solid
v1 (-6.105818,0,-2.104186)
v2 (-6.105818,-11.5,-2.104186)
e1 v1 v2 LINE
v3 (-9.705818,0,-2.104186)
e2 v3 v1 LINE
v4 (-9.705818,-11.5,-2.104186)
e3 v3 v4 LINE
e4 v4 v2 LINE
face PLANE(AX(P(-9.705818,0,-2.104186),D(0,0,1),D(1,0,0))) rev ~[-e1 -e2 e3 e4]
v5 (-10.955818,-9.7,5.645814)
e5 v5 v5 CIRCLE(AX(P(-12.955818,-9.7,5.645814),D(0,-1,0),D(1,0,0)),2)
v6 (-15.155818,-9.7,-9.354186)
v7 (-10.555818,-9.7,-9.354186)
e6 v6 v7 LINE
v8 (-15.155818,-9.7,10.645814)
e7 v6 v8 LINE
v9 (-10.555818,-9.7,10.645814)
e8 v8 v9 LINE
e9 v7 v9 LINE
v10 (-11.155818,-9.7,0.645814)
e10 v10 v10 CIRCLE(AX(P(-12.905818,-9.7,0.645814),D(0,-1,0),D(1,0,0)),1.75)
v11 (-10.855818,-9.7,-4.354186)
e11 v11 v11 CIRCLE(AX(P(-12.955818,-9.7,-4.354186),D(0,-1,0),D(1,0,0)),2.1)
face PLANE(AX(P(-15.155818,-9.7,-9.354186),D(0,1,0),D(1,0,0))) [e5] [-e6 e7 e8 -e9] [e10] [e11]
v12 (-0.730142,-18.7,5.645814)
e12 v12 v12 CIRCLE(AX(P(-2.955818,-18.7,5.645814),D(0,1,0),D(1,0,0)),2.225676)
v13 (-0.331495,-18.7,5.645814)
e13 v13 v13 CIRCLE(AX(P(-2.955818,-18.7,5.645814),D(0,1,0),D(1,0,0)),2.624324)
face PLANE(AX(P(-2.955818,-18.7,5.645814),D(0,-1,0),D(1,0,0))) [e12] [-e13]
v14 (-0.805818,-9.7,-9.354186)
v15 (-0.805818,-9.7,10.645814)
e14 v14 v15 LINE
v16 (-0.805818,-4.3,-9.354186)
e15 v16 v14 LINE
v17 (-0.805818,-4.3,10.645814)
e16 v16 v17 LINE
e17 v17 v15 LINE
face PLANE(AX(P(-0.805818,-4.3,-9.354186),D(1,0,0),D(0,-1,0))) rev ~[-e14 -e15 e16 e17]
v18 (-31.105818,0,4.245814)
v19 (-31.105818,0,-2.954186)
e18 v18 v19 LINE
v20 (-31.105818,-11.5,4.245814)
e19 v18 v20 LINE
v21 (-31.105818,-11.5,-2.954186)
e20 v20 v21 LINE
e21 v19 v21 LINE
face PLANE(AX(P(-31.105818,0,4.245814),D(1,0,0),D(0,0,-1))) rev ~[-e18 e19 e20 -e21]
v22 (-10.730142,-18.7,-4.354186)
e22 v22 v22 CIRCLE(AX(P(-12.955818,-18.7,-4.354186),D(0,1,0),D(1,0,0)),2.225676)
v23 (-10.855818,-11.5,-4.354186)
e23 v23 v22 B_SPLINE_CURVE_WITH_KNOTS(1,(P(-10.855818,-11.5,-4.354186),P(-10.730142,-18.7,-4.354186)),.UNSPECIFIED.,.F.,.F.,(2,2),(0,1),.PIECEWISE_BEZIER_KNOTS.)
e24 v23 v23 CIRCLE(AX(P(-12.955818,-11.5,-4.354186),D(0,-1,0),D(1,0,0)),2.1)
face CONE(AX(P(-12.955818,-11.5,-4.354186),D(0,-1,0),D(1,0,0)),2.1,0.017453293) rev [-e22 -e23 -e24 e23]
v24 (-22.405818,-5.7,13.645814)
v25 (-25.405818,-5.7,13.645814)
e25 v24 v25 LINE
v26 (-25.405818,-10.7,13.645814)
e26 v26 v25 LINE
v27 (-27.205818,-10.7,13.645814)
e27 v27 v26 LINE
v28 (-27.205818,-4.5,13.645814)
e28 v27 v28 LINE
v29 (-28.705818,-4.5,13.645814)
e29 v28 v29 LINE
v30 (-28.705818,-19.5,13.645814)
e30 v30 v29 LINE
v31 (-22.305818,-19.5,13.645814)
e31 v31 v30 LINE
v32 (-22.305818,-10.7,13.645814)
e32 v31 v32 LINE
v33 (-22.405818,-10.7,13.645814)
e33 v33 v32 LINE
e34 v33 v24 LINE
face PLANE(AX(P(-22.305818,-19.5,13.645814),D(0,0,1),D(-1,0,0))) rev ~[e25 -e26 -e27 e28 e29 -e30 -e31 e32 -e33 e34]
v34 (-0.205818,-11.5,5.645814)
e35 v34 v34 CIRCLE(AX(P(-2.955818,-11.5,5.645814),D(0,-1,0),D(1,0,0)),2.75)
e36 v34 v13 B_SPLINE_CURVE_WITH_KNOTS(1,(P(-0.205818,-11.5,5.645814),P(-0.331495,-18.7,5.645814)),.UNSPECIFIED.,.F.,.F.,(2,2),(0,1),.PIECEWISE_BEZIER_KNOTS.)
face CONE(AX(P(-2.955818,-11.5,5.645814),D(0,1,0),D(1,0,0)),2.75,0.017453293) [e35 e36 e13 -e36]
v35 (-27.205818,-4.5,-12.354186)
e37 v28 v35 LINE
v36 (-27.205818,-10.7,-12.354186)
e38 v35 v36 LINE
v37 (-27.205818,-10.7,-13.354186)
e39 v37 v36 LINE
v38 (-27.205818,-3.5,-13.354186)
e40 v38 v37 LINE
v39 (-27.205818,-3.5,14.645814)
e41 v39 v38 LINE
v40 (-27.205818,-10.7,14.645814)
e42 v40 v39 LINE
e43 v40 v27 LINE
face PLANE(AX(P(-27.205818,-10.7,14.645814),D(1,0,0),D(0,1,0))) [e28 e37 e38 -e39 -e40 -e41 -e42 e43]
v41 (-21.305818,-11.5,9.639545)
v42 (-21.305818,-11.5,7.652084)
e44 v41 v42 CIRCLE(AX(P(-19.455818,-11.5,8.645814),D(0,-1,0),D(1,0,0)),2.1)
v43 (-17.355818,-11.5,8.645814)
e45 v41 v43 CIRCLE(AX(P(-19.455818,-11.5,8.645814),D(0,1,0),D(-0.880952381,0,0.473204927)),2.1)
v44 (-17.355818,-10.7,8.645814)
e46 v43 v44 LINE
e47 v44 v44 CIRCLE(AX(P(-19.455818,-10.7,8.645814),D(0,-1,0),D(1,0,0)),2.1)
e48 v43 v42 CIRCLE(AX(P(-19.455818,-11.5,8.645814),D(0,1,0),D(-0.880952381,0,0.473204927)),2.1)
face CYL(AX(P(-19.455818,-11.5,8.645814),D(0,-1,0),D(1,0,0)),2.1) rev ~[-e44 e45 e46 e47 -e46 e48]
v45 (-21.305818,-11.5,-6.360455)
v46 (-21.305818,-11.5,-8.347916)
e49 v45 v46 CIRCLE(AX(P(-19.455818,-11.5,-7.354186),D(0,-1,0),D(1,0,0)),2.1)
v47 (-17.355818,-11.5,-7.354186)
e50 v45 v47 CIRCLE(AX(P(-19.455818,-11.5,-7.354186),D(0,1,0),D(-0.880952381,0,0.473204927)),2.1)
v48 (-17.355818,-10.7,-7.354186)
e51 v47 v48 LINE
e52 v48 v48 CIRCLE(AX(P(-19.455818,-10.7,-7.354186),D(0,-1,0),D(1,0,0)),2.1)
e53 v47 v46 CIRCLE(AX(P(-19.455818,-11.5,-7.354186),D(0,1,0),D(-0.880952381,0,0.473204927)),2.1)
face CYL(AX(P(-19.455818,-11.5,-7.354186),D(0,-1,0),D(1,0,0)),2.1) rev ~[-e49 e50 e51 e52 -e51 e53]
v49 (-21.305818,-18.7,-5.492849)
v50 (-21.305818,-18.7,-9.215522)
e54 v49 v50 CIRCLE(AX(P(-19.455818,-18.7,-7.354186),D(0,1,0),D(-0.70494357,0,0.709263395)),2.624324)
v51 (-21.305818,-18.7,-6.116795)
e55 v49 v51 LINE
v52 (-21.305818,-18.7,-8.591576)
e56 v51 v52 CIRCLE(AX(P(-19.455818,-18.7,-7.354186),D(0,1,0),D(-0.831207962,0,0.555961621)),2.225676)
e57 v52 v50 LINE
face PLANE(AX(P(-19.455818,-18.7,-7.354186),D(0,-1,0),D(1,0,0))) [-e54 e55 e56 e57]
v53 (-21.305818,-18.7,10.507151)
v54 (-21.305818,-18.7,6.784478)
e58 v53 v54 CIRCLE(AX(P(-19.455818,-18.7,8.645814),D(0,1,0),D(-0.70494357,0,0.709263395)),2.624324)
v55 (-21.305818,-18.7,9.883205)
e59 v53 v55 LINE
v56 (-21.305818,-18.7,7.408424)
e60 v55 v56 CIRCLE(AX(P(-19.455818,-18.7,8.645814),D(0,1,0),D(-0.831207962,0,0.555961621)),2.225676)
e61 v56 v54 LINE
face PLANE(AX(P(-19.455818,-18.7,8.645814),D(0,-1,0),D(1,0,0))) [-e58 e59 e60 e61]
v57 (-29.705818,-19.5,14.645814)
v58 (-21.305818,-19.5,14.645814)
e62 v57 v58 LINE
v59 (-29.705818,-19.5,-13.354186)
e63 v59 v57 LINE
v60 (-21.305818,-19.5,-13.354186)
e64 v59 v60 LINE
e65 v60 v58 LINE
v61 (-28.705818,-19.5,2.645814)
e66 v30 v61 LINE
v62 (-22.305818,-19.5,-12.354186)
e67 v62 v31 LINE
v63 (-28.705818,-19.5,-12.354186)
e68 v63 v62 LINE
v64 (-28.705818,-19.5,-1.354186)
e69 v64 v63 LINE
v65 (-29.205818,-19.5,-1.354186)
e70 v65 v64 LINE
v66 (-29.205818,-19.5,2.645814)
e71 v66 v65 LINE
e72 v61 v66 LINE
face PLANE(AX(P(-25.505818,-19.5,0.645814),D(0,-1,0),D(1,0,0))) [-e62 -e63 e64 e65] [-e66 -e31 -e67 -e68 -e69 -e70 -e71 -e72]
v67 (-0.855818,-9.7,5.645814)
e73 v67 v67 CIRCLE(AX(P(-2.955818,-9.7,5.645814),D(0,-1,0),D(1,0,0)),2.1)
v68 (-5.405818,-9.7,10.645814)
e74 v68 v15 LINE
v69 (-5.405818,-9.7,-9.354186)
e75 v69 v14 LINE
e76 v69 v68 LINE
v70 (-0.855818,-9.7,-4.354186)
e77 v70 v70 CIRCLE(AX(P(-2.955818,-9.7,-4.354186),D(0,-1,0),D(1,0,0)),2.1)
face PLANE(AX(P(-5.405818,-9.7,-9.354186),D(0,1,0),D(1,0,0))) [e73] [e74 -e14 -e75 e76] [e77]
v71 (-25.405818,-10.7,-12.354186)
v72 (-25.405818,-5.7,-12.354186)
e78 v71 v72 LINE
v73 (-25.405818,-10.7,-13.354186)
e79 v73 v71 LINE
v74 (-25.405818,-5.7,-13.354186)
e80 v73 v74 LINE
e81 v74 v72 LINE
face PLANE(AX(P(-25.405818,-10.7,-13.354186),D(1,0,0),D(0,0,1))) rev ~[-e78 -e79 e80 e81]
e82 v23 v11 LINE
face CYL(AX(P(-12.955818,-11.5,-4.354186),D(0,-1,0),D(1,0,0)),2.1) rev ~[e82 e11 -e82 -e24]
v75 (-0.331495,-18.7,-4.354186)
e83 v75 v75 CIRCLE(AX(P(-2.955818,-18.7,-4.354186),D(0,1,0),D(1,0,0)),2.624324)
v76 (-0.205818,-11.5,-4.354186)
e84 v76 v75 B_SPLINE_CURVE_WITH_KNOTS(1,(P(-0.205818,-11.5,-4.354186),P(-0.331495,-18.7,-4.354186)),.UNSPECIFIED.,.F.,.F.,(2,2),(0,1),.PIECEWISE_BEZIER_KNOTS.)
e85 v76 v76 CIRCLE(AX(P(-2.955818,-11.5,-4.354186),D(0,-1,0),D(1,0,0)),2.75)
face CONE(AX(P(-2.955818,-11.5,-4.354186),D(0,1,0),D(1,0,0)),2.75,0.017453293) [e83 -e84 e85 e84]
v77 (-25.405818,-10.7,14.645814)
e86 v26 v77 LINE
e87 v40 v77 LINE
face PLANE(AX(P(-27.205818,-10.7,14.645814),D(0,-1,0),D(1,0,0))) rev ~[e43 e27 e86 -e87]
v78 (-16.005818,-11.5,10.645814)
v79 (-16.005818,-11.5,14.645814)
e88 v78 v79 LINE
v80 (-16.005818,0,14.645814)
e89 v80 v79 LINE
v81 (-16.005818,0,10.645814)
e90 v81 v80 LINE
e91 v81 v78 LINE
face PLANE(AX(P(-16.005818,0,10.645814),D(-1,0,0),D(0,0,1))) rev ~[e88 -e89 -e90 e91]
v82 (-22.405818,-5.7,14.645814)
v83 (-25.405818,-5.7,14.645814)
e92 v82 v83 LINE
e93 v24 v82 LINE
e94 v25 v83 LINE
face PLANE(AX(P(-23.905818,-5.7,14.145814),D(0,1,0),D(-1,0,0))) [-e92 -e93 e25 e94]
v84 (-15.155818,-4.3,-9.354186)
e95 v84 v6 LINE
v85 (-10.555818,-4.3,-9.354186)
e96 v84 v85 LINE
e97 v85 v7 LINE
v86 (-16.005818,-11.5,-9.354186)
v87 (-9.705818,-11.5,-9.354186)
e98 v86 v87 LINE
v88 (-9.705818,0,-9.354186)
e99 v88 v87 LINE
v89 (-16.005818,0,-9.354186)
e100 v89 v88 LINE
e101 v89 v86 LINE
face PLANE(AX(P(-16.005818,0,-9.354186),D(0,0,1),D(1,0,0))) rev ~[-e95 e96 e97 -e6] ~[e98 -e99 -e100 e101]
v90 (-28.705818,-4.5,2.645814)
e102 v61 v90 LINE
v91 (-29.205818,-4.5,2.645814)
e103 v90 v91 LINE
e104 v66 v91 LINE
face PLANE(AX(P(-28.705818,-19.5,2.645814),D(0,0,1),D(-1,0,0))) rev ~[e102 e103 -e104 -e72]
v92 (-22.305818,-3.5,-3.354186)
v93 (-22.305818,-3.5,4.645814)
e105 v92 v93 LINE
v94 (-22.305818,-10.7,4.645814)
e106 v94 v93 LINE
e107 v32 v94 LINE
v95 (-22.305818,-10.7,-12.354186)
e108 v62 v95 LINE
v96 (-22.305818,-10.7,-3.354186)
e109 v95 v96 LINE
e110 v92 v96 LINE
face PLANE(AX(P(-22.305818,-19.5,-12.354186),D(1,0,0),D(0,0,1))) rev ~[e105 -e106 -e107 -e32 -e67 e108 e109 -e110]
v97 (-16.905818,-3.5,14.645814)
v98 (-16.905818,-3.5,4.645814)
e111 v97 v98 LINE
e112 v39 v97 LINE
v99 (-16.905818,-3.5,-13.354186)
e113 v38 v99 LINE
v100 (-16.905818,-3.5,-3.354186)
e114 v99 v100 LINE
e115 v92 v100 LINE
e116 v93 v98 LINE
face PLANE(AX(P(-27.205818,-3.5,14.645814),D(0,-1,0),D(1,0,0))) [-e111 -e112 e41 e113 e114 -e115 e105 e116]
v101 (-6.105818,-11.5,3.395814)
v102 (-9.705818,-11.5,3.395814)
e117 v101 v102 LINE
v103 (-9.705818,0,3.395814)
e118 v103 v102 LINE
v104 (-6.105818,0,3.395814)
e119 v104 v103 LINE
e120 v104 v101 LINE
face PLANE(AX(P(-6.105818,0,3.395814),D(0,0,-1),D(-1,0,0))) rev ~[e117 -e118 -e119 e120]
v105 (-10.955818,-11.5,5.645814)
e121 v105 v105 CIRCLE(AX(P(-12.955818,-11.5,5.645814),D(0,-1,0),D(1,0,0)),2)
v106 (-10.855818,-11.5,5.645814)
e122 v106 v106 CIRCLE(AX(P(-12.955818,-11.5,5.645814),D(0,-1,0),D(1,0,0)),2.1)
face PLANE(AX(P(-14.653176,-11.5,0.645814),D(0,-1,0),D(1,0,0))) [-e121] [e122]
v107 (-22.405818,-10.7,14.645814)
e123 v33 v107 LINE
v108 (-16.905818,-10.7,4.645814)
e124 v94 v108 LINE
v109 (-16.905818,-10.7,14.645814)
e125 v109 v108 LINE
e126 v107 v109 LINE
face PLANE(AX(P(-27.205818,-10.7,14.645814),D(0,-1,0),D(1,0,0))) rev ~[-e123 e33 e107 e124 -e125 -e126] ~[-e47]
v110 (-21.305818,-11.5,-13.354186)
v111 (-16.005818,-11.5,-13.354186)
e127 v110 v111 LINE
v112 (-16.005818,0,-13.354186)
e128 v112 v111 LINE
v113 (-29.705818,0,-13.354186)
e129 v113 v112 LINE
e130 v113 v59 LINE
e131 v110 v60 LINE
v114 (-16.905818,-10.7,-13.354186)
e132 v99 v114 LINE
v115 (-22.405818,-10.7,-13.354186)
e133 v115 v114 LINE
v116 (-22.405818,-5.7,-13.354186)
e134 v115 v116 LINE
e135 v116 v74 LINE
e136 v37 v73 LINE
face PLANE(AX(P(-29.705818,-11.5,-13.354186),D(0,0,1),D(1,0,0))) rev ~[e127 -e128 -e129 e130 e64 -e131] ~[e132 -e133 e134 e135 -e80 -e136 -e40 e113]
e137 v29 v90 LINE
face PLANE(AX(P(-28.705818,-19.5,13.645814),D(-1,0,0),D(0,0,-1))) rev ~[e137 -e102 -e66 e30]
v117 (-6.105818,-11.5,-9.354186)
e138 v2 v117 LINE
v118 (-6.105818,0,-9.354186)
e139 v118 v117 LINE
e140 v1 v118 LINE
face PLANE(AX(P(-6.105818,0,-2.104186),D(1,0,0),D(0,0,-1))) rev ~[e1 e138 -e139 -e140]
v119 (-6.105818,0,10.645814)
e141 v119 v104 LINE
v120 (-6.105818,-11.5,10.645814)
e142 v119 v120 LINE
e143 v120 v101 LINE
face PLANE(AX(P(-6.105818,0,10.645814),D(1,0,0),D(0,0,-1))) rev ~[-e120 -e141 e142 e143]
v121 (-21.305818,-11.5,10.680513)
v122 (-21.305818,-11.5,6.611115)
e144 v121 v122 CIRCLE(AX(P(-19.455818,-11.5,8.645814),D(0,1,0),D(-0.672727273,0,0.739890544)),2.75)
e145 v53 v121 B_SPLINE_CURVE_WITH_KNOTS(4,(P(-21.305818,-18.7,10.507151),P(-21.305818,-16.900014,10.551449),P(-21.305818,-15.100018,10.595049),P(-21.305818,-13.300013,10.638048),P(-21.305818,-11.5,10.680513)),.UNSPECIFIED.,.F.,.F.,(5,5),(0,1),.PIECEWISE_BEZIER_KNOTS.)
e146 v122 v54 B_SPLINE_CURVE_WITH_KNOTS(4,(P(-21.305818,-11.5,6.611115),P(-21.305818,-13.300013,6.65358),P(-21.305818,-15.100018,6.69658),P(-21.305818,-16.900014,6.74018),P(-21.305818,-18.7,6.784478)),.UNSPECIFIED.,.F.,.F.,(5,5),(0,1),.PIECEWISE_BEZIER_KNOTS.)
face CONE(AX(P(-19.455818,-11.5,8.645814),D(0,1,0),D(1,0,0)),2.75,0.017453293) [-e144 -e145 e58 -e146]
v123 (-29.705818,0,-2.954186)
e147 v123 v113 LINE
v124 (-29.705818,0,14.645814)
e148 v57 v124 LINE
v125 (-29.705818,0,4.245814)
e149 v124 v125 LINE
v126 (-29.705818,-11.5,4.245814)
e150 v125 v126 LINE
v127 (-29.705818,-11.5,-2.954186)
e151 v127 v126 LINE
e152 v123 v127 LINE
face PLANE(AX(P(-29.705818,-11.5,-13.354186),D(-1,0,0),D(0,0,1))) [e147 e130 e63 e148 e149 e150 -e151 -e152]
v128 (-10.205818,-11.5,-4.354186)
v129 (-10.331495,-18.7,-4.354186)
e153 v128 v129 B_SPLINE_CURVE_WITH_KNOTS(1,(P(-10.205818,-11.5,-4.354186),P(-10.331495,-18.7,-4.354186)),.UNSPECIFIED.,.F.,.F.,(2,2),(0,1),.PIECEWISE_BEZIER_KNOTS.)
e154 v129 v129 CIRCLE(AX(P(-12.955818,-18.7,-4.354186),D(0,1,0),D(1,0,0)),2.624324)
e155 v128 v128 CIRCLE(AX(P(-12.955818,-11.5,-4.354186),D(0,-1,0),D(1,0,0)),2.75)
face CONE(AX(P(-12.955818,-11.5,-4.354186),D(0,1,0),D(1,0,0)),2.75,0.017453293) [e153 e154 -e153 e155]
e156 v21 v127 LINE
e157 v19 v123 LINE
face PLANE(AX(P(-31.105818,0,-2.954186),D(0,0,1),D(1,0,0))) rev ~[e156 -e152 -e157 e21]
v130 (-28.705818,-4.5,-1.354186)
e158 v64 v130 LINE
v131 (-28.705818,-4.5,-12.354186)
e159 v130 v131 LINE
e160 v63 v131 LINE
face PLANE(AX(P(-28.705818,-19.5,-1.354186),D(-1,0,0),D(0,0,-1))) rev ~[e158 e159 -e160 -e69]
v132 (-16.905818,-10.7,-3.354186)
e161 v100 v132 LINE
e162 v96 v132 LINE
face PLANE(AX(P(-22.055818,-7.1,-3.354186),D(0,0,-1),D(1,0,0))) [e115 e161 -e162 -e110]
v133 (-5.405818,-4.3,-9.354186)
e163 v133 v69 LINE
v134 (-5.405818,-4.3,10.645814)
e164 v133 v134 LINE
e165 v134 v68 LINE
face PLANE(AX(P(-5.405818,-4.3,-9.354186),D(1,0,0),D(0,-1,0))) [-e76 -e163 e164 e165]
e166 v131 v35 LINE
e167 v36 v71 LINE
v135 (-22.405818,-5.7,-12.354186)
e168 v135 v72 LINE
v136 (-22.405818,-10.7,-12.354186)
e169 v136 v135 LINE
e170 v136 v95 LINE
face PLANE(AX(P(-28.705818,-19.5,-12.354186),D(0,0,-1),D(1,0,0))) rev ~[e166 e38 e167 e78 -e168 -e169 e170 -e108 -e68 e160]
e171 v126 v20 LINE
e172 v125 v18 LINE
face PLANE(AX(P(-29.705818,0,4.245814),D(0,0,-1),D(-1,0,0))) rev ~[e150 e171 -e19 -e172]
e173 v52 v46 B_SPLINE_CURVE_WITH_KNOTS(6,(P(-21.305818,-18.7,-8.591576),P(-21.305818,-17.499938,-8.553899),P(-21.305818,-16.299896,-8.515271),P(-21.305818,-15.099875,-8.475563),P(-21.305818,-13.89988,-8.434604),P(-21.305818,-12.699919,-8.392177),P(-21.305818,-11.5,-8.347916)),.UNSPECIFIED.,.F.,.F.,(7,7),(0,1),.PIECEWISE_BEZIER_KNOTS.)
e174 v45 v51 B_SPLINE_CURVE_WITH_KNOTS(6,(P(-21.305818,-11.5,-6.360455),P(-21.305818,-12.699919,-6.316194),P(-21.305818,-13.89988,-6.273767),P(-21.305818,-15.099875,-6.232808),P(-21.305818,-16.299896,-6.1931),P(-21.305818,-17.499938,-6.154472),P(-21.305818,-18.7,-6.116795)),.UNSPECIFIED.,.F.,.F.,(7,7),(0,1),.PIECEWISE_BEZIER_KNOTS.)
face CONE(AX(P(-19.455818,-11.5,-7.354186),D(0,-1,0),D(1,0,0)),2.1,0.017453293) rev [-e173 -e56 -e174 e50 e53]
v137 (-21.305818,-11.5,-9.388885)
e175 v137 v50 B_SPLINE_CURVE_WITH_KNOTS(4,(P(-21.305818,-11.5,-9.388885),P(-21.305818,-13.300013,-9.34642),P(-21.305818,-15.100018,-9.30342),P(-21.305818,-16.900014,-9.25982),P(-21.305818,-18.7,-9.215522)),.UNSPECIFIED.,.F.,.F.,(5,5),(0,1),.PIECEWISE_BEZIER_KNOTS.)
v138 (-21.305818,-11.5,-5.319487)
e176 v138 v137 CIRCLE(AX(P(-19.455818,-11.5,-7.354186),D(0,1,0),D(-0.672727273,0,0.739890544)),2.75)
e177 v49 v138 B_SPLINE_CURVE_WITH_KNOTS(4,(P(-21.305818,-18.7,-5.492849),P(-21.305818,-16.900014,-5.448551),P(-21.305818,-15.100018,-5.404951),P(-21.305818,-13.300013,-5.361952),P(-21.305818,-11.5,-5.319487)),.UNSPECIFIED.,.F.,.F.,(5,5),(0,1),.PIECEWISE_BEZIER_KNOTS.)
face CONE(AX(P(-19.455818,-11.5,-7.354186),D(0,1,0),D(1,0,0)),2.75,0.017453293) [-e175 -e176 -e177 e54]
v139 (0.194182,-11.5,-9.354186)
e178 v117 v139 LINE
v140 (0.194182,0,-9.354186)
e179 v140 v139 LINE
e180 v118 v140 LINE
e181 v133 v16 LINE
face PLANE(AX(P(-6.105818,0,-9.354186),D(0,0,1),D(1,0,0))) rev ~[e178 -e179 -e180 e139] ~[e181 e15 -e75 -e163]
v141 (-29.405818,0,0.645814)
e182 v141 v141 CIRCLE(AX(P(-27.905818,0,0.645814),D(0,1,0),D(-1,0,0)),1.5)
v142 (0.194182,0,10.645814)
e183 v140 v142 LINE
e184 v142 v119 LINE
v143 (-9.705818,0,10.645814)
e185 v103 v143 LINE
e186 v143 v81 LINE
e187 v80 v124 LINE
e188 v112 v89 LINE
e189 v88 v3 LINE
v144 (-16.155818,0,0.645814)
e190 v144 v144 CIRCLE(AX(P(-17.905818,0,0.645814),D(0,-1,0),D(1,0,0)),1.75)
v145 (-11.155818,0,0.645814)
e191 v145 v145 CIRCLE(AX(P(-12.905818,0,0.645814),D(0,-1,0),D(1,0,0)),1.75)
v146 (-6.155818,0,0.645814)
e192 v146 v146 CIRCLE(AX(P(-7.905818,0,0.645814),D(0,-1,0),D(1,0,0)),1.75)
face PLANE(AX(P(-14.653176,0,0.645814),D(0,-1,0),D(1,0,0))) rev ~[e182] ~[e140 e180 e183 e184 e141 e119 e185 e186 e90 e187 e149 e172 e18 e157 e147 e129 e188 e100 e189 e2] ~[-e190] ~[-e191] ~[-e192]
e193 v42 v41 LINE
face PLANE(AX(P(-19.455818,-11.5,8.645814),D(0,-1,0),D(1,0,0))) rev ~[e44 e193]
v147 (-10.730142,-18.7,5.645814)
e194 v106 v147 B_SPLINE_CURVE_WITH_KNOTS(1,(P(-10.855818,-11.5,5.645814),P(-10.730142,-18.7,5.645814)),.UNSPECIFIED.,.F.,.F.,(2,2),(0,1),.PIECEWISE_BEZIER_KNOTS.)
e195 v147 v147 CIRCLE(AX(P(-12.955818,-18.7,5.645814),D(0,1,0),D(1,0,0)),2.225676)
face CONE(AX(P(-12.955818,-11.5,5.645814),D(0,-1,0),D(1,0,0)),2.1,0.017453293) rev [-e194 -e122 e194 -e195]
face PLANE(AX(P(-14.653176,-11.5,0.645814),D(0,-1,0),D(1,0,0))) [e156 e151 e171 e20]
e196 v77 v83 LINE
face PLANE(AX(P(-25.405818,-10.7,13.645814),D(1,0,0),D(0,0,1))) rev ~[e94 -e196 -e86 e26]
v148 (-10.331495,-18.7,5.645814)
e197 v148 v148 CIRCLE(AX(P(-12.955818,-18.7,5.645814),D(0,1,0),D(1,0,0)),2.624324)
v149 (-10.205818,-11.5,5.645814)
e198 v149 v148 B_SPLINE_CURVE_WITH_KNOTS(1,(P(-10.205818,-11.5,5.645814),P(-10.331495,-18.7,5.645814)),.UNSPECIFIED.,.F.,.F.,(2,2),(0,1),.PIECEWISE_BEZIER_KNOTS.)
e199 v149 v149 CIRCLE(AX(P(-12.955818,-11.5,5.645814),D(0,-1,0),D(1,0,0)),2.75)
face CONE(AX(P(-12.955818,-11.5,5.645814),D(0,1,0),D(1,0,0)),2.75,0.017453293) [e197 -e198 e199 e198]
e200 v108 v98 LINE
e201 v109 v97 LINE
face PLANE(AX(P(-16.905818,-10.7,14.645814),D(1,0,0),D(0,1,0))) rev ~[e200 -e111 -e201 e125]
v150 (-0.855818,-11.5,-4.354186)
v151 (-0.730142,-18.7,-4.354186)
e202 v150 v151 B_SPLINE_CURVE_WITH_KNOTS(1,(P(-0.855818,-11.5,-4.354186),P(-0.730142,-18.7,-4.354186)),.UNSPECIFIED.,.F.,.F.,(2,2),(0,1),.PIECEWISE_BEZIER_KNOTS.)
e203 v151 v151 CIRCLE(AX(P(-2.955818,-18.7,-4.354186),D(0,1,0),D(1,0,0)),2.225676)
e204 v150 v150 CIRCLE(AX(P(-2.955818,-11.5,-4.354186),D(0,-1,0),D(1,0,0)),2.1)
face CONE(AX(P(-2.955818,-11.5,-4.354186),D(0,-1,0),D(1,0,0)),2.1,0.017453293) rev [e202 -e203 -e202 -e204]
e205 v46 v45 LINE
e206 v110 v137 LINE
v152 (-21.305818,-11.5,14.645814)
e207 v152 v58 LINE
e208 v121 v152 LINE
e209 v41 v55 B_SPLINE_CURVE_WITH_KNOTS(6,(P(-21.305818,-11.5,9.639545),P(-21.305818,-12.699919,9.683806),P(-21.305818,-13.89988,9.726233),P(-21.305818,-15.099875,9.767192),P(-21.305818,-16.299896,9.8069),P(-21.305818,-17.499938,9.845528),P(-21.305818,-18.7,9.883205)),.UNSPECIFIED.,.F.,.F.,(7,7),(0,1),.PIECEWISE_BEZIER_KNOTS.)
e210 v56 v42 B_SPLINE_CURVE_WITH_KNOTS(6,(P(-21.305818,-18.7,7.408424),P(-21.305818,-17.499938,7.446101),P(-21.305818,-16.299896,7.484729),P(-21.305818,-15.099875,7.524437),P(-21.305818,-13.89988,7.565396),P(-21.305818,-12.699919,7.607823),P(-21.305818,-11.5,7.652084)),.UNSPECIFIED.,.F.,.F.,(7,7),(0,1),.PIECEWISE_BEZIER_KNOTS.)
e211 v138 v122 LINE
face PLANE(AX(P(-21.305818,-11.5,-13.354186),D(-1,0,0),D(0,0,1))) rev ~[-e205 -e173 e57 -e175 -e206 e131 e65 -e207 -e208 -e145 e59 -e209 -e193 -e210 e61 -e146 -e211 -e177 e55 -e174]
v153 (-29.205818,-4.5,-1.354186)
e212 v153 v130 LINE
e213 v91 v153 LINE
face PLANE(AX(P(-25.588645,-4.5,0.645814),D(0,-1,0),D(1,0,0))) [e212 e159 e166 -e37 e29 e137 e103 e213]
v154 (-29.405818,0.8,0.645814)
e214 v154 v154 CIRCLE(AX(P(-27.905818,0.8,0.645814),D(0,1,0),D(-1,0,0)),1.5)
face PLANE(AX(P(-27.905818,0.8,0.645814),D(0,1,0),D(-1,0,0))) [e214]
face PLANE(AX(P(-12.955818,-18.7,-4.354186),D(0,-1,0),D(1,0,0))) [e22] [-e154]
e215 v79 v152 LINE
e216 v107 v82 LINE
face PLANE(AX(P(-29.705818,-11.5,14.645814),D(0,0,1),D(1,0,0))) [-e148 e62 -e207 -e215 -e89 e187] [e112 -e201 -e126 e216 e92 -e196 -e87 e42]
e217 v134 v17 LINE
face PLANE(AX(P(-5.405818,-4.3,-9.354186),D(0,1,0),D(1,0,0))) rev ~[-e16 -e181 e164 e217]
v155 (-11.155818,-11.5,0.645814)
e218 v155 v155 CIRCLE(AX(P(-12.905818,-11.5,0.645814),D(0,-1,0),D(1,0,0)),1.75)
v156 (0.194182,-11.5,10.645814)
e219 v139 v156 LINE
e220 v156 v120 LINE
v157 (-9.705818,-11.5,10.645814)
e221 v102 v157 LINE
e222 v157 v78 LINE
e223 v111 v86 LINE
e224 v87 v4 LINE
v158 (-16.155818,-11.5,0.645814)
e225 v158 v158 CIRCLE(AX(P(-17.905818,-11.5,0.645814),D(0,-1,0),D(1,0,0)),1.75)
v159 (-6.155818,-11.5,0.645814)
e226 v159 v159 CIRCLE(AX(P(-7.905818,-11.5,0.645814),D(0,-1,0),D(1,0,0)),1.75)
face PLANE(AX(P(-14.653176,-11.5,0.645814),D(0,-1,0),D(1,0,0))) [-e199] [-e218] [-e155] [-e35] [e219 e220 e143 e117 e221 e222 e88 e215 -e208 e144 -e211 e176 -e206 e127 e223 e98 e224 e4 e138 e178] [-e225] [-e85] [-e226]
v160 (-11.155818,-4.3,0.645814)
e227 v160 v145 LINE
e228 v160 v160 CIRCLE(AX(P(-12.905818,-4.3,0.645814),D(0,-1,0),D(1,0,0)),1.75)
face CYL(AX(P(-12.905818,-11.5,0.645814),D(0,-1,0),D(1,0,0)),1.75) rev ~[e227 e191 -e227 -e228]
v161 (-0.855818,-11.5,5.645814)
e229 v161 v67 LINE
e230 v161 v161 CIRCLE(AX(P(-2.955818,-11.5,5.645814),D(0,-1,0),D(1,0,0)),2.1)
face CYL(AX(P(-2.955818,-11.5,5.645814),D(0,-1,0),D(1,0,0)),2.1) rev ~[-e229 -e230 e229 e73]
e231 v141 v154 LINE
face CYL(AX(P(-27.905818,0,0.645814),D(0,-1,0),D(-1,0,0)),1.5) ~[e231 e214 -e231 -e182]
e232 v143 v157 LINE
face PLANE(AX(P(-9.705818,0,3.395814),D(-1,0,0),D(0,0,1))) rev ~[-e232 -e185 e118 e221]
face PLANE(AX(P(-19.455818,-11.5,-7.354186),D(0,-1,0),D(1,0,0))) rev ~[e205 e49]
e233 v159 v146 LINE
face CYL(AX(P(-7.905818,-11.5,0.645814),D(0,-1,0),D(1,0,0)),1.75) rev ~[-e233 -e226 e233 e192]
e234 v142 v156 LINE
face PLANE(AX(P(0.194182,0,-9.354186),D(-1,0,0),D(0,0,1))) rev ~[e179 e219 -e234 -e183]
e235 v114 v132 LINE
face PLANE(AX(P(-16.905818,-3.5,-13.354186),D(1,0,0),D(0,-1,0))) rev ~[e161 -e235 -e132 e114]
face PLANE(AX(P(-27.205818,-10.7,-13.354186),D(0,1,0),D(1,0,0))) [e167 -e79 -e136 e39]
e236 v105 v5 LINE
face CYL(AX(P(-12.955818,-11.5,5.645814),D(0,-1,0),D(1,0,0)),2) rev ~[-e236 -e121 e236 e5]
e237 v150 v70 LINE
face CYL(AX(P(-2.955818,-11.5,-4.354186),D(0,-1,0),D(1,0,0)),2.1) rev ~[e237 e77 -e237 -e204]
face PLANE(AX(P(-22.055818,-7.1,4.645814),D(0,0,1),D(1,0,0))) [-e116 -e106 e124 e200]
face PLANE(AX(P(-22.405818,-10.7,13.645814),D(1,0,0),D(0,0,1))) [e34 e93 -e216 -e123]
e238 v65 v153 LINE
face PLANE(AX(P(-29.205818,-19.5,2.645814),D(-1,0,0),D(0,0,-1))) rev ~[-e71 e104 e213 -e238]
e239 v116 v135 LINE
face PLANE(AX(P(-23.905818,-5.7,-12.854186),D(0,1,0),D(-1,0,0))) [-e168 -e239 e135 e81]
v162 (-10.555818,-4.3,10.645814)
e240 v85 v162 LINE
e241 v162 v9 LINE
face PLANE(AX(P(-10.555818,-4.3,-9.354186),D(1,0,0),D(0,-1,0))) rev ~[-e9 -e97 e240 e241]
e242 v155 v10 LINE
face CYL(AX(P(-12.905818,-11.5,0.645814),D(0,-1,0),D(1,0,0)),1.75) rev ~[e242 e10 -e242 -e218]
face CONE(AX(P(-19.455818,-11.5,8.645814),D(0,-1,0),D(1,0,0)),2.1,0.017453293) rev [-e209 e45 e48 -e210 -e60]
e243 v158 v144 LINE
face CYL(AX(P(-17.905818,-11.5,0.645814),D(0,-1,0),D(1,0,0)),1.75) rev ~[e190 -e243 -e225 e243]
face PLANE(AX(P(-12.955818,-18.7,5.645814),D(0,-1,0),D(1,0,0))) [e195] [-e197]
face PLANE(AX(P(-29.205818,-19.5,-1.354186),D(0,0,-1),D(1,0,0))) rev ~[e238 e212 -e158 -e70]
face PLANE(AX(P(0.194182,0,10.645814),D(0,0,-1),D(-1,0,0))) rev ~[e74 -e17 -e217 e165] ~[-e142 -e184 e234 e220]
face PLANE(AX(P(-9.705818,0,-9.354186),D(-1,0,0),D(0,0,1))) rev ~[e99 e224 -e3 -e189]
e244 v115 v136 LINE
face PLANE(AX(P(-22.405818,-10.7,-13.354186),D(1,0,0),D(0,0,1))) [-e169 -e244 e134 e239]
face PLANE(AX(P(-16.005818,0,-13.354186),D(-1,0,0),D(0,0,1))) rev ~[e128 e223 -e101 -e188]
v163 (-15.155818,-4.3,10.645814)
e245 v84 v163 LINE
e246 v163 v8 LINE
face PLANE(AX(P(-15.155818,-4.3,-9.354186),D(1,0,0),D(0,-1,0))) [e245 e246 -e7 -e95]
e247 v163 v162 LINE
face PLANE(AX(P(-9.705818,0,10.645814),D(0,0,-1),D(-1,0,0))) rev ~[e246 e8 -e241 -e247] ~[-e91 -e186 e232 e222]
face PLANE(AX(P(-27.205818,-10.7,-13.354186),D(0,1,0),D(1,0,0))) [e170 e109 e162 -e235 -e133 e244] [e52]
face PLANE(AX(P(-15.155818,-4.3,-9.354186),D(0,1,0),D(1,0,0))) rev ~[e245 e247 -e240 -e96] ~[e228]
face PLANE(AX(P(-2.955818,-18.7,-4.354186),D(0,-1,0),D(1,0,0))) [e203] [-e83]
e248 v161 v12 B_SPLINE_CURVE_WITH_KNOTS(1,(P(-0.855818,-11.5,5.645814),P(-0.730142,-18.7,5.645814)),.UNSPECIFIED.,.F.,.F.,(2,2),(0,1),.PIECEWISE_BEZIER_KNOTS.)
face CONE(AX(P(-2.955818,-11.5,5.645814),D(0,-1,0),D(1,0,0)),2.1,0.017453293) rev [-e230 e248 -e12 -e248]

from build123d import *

# Parameters (mm, degrees)
F1_DEPTH  = 11.5
F3_R      = 2.75
F3_R_2    = 2.1
F4_DEPTH  = 7.2
F4_TAPER  = 1
F5_W      = 8.4
F5_H      = 28
F6_DEPTH  = 8
F8_DEPTH  = 15
F10_W     = 4.6
F10_H     = 5.4
F11_DEPTH = 20
F12_W     = 10.3
F12_H     = 7.2
F13_DEPTH = 10
F14_R     = 2
F15_DEPTH = 2
F16_R     = 2.1
F17_DEPTH = 2
F18_R     = 2.1
F19_DEPTH = 2
F20_R     = 2.1
F21_DEPTH = 2
F22_R     = 2.1
F23_DEPTH = 2
F24_R     = 2.1
F25_DEPTH = 2
F26_W     = 10.3
F26_H     = 7.2
F27_DEPTH = 10
F9_R      = 1.75
F28_DEPTH = 12
F29_R     = 1.5
F30_DEPTH = 0.8
F31_W     = 4.9
F31_H     = 8
F32_DEPTH = 1
F33_W     = 3
F33_H     = 1
F34_DEPTH = 5
F35_W     = 3
F35_H     = 1
F36_DEPTH = 5


with BuildPart() as f1:
    # F0 (on Front) → F1 (new body)
    with BuildSketch(Plane.XZ):
        Polygon((0.1941817731, -9.3541857075), (0.1941817731, 10.6458142925), (-6.1058182269, 10.6458142925), (-6.1058182269, 3.3958142925), (-9.7058182269, 3.3958142925), (-9.7058182269, 10.6458142925), (-16.0058182269, 10.6458142925), (-16.0058182269, 14.6458142925), (-29.7058182269, 14.6458142925), (-29.7058182269, 4.2458142925), (-31.1058182269, 4.2458142925), (-31.1058182269, -2.9541857075), (-29.7058182269, -2.9541857075), (-29.7058182269, -13.3541857075), (-16.0058182269, -13.3541857075), (-16.0058182269, -9.3541857075), (-9.7058182269, -9.3541857075), (-9.7058182269, -2.1041857075), (-6.1058182269, -2.1041857075), (-6.1058182269, -9.3541857075), align=None)
    extrude(amount=F1_DEPTH)

    # F3 (on face) → F4 (join)
    with BuildSketch(Plane.XZ.offset(11.5)):
        with Locations((-2.9558182269, 5.6458142925)):
            Circle(F3_R)
        with Locations((-2.9558182269, 5.6458142925)):
            Circle(F3_R_2, mode=Mode.SUBTRACT)
        with Locations((-2.9558182269, -4.3541857075)):
            Circle(F3_R)
        with Locations((-2.9558182269, -4.3541857075)):
            Circle(F3_R_2, mode=Mode.SUBTRACT)
        with Locations((-12.9558182269, 5.6458142925)):
            Circle(F3_R)
        with Locations((-12.9558182269, 5.6458142925)):
            Circle(F3_R_2, mode=Mode.SUBTRACT)
        with Locations((-12.9558182269, -4.3541857075)):
            Circle(F3_R)
        with Locations((-12.9558182269, -4.3541857075)):
            Circle(F3_R_2, mode=Mode.SUBTRACT)
        with Locations((-19.4558182269, -7.3541857075)):
            Circle(F3_R)
        with Locations((-19.4558182269, -7.3541857075)):
            Circle(F3_R_2, mode=Mode.SUBTRACT)
        with Locations((-19.4558182269, 8.6458142925)):
            Circle(F3_R)
        with Locations((-19.4558182269, 8.6458142925)):
            Circle(F3_R_2, mode=Mode.SUBTRACT)
    extrude(amount=F4_DEPTH, taper=F4_TAPER)

    # F5 (on face) → F6 (join)
    with BuildSketch(Plane.XZ.offset(11.5)):
        with Locations((-25.5058182269, 0.6458142925)):
            Rectangle(F5_W, F5_H)
    extrude(amount=F6_DEPTH)

    # F7 (on face) → F8 (cut)
    with BuildSketch(Plane.XZ.offset(19.5)):
        Polygon((-22.3058182269, 13.6458142925), (-28.7058182269, 13.6458142925), (-28.7058182269, 2.6458142925), (-29.2058182269, 2.6458142925), (-29.2058182269, -1.3541857075), (-28.7058182269, -1.3541857075), (-28.7058182269, -12.3541857075), (-22.3058182269, -12.3541857075), align=None)
    extrude(amount=-F8_DEPTH, mode=Mode.SUBTRACT)

    # F10 (on face) → F11 (cut, through all)
    with BuildSketch(Plane(origin=(0, 0, -9.3541857075), x_dir=(1, 0, 0), z_dir=(0, 0, -1))):
        with Locations((-3.1058182269, 7)):
            Rectangle(F10_W, F10_H)
        with Locations((-12.8558182269, 7)):
            Rectangle(F10_W, F10_H)
    extrude(amount=-F11_DEPTH, mode=Mode.SUBTRACT)

    # F12 (on face) → F13 (cut)
    with BuildSketch(Plane(origin=(0, 0, -13.3541857075), x_dir=(1, 0, 0), z_dir=(0, 0, -1))):
        with Locations((-22.0558182269, 7.1)):
            Rectangle(F12_W, F12_H)
    extrude(amount=-F13_DEPTH, mode=Mode.SUBTRACT)

    # F14 (on face) → F15 (cut)
    with BuildSketch(Plane.XZ.offset(11.5)):
        with Locations((-12.9558182269, 5.6458142925)):
            Circle(F14_R)
    extrude(amount=-F15_DEPTH, mode=Mode.SUBTRACT)

    # F16 (on face) → F17 (cut)
    with BuildSketch(Plane.XZ.offset(11.5)):
        with Locations((-12.9558182269, -4.3541857075)):
            Circle(F16_R)
    extrude(amount=-F17_DEPTH, mode=Mode.SUBTRACT)

    # F18 (on face) → F19 (cut)
    with BuildSketch(Plane.XZ.offset(11.5)):
        with Locations((-2.9558182269, 5.6458142925)):
            Circle(F18_R)
    extrude(amount=-F19_DEPTH, mode=Mode.SUBTRACT)

    # F20 (on face) → F21 (cut)
    with BuildSketch(Plane.XZ.offset(11.5)):
        with Locations((-2.9558182269, -4.3541857075)):
            Circle(F20_R)
    extrude(amount=-F21_DEPTH, mode=Mode.SUBTRACT)

    # F22 (on face) → F23 (cut)
    with BuildSketch(Plane.XZ.offset(11.5)):
        with Locations((-19.4558182269, 8.6458142925)):
            Circle(F22_R)
    extrude(amount=-F23_DEPTH, mode=Mode.SUBTRACT)

    # F24 (on face) → F25 (cut)
    with BuildSketch(Plane.XZ.offset(11.5)):
        with Locations((-19.4558182269, -7.3541857075)):
            Circle(F24_R)
    extrude(amount=-F25_DEPTH, mode=Mode.SUBTRACT)

    # F26 (on face) → F27 (cut)
    with BuildSketch(Plane.XY.offset(14.6458142925)):
        with Locations((-22.0558182269, -7.1)):
            Rectangle(F26_W, F26_H)
    extrude(amount=-F27_DEPTH, mode=Mode.SUBTRACT)

    # F9 (on face) → F28 (cut)
    with BuildSketch(Plane.XZ.offset(11.5)):
        with Locations((-7.9058182269, 0.6458142925)):
            Circle(F9_R)
        with Locations((-12.9058182269, 0.6458142925)):
            Circle(F9_R)
        with Locations((-17.9058182269, 0.6458142925)):
            Circle(F9_R)
    extrude(amount=-F28_DEPTH, mode=Mode.SUBTRACT)

    # F29 (on face) → F30 (join)
    with BuildSketch(Plane(origin=(0, 0, 0), x_dir=(-1, 0, 0), z_dir=(0, 1, 0))):
        with Locations((27.9058182269, 0.6458142925)):
            Circle(F29_R)
    extrude(amount=F30_DEPTH)

    # F31 (on face) → F32 (cut, through all)
    with BuildSketch(Plane.XZ.offset(4.5)):
        with Locations((-24.7558182269, 0.6458142925)):
            Rectangle(F31_W, F31_H)
    extrude(amount=-F32_DEPTH, mode=Mode.SUBTRACT)

    # F33 (on face) → F34 (join)
    with BuildSketch(Plane(origin=(0, -10.7, 0), x_dir=(-1, 0, 0), z_dir=(0, 1, 0))):
        with Locations((23.9058182269, -12.8541857075)):
            Rectangle(F33_W, F33_H)
    extrude(amount=F34_DEPTH)

    # F35 (on face) → F36 (join)
    with BuildSketch(Plane(origin=(0, -10.7, 0), x_dir=(-1, 0, 0), z_dir=(0, 1, 0))):
        with Locations((23.9058182269, 14.1458142925)):
            Rectangle(F35_W, F35_H)
    extrude(amount=F36_DEPTH)


solid = f1.part
